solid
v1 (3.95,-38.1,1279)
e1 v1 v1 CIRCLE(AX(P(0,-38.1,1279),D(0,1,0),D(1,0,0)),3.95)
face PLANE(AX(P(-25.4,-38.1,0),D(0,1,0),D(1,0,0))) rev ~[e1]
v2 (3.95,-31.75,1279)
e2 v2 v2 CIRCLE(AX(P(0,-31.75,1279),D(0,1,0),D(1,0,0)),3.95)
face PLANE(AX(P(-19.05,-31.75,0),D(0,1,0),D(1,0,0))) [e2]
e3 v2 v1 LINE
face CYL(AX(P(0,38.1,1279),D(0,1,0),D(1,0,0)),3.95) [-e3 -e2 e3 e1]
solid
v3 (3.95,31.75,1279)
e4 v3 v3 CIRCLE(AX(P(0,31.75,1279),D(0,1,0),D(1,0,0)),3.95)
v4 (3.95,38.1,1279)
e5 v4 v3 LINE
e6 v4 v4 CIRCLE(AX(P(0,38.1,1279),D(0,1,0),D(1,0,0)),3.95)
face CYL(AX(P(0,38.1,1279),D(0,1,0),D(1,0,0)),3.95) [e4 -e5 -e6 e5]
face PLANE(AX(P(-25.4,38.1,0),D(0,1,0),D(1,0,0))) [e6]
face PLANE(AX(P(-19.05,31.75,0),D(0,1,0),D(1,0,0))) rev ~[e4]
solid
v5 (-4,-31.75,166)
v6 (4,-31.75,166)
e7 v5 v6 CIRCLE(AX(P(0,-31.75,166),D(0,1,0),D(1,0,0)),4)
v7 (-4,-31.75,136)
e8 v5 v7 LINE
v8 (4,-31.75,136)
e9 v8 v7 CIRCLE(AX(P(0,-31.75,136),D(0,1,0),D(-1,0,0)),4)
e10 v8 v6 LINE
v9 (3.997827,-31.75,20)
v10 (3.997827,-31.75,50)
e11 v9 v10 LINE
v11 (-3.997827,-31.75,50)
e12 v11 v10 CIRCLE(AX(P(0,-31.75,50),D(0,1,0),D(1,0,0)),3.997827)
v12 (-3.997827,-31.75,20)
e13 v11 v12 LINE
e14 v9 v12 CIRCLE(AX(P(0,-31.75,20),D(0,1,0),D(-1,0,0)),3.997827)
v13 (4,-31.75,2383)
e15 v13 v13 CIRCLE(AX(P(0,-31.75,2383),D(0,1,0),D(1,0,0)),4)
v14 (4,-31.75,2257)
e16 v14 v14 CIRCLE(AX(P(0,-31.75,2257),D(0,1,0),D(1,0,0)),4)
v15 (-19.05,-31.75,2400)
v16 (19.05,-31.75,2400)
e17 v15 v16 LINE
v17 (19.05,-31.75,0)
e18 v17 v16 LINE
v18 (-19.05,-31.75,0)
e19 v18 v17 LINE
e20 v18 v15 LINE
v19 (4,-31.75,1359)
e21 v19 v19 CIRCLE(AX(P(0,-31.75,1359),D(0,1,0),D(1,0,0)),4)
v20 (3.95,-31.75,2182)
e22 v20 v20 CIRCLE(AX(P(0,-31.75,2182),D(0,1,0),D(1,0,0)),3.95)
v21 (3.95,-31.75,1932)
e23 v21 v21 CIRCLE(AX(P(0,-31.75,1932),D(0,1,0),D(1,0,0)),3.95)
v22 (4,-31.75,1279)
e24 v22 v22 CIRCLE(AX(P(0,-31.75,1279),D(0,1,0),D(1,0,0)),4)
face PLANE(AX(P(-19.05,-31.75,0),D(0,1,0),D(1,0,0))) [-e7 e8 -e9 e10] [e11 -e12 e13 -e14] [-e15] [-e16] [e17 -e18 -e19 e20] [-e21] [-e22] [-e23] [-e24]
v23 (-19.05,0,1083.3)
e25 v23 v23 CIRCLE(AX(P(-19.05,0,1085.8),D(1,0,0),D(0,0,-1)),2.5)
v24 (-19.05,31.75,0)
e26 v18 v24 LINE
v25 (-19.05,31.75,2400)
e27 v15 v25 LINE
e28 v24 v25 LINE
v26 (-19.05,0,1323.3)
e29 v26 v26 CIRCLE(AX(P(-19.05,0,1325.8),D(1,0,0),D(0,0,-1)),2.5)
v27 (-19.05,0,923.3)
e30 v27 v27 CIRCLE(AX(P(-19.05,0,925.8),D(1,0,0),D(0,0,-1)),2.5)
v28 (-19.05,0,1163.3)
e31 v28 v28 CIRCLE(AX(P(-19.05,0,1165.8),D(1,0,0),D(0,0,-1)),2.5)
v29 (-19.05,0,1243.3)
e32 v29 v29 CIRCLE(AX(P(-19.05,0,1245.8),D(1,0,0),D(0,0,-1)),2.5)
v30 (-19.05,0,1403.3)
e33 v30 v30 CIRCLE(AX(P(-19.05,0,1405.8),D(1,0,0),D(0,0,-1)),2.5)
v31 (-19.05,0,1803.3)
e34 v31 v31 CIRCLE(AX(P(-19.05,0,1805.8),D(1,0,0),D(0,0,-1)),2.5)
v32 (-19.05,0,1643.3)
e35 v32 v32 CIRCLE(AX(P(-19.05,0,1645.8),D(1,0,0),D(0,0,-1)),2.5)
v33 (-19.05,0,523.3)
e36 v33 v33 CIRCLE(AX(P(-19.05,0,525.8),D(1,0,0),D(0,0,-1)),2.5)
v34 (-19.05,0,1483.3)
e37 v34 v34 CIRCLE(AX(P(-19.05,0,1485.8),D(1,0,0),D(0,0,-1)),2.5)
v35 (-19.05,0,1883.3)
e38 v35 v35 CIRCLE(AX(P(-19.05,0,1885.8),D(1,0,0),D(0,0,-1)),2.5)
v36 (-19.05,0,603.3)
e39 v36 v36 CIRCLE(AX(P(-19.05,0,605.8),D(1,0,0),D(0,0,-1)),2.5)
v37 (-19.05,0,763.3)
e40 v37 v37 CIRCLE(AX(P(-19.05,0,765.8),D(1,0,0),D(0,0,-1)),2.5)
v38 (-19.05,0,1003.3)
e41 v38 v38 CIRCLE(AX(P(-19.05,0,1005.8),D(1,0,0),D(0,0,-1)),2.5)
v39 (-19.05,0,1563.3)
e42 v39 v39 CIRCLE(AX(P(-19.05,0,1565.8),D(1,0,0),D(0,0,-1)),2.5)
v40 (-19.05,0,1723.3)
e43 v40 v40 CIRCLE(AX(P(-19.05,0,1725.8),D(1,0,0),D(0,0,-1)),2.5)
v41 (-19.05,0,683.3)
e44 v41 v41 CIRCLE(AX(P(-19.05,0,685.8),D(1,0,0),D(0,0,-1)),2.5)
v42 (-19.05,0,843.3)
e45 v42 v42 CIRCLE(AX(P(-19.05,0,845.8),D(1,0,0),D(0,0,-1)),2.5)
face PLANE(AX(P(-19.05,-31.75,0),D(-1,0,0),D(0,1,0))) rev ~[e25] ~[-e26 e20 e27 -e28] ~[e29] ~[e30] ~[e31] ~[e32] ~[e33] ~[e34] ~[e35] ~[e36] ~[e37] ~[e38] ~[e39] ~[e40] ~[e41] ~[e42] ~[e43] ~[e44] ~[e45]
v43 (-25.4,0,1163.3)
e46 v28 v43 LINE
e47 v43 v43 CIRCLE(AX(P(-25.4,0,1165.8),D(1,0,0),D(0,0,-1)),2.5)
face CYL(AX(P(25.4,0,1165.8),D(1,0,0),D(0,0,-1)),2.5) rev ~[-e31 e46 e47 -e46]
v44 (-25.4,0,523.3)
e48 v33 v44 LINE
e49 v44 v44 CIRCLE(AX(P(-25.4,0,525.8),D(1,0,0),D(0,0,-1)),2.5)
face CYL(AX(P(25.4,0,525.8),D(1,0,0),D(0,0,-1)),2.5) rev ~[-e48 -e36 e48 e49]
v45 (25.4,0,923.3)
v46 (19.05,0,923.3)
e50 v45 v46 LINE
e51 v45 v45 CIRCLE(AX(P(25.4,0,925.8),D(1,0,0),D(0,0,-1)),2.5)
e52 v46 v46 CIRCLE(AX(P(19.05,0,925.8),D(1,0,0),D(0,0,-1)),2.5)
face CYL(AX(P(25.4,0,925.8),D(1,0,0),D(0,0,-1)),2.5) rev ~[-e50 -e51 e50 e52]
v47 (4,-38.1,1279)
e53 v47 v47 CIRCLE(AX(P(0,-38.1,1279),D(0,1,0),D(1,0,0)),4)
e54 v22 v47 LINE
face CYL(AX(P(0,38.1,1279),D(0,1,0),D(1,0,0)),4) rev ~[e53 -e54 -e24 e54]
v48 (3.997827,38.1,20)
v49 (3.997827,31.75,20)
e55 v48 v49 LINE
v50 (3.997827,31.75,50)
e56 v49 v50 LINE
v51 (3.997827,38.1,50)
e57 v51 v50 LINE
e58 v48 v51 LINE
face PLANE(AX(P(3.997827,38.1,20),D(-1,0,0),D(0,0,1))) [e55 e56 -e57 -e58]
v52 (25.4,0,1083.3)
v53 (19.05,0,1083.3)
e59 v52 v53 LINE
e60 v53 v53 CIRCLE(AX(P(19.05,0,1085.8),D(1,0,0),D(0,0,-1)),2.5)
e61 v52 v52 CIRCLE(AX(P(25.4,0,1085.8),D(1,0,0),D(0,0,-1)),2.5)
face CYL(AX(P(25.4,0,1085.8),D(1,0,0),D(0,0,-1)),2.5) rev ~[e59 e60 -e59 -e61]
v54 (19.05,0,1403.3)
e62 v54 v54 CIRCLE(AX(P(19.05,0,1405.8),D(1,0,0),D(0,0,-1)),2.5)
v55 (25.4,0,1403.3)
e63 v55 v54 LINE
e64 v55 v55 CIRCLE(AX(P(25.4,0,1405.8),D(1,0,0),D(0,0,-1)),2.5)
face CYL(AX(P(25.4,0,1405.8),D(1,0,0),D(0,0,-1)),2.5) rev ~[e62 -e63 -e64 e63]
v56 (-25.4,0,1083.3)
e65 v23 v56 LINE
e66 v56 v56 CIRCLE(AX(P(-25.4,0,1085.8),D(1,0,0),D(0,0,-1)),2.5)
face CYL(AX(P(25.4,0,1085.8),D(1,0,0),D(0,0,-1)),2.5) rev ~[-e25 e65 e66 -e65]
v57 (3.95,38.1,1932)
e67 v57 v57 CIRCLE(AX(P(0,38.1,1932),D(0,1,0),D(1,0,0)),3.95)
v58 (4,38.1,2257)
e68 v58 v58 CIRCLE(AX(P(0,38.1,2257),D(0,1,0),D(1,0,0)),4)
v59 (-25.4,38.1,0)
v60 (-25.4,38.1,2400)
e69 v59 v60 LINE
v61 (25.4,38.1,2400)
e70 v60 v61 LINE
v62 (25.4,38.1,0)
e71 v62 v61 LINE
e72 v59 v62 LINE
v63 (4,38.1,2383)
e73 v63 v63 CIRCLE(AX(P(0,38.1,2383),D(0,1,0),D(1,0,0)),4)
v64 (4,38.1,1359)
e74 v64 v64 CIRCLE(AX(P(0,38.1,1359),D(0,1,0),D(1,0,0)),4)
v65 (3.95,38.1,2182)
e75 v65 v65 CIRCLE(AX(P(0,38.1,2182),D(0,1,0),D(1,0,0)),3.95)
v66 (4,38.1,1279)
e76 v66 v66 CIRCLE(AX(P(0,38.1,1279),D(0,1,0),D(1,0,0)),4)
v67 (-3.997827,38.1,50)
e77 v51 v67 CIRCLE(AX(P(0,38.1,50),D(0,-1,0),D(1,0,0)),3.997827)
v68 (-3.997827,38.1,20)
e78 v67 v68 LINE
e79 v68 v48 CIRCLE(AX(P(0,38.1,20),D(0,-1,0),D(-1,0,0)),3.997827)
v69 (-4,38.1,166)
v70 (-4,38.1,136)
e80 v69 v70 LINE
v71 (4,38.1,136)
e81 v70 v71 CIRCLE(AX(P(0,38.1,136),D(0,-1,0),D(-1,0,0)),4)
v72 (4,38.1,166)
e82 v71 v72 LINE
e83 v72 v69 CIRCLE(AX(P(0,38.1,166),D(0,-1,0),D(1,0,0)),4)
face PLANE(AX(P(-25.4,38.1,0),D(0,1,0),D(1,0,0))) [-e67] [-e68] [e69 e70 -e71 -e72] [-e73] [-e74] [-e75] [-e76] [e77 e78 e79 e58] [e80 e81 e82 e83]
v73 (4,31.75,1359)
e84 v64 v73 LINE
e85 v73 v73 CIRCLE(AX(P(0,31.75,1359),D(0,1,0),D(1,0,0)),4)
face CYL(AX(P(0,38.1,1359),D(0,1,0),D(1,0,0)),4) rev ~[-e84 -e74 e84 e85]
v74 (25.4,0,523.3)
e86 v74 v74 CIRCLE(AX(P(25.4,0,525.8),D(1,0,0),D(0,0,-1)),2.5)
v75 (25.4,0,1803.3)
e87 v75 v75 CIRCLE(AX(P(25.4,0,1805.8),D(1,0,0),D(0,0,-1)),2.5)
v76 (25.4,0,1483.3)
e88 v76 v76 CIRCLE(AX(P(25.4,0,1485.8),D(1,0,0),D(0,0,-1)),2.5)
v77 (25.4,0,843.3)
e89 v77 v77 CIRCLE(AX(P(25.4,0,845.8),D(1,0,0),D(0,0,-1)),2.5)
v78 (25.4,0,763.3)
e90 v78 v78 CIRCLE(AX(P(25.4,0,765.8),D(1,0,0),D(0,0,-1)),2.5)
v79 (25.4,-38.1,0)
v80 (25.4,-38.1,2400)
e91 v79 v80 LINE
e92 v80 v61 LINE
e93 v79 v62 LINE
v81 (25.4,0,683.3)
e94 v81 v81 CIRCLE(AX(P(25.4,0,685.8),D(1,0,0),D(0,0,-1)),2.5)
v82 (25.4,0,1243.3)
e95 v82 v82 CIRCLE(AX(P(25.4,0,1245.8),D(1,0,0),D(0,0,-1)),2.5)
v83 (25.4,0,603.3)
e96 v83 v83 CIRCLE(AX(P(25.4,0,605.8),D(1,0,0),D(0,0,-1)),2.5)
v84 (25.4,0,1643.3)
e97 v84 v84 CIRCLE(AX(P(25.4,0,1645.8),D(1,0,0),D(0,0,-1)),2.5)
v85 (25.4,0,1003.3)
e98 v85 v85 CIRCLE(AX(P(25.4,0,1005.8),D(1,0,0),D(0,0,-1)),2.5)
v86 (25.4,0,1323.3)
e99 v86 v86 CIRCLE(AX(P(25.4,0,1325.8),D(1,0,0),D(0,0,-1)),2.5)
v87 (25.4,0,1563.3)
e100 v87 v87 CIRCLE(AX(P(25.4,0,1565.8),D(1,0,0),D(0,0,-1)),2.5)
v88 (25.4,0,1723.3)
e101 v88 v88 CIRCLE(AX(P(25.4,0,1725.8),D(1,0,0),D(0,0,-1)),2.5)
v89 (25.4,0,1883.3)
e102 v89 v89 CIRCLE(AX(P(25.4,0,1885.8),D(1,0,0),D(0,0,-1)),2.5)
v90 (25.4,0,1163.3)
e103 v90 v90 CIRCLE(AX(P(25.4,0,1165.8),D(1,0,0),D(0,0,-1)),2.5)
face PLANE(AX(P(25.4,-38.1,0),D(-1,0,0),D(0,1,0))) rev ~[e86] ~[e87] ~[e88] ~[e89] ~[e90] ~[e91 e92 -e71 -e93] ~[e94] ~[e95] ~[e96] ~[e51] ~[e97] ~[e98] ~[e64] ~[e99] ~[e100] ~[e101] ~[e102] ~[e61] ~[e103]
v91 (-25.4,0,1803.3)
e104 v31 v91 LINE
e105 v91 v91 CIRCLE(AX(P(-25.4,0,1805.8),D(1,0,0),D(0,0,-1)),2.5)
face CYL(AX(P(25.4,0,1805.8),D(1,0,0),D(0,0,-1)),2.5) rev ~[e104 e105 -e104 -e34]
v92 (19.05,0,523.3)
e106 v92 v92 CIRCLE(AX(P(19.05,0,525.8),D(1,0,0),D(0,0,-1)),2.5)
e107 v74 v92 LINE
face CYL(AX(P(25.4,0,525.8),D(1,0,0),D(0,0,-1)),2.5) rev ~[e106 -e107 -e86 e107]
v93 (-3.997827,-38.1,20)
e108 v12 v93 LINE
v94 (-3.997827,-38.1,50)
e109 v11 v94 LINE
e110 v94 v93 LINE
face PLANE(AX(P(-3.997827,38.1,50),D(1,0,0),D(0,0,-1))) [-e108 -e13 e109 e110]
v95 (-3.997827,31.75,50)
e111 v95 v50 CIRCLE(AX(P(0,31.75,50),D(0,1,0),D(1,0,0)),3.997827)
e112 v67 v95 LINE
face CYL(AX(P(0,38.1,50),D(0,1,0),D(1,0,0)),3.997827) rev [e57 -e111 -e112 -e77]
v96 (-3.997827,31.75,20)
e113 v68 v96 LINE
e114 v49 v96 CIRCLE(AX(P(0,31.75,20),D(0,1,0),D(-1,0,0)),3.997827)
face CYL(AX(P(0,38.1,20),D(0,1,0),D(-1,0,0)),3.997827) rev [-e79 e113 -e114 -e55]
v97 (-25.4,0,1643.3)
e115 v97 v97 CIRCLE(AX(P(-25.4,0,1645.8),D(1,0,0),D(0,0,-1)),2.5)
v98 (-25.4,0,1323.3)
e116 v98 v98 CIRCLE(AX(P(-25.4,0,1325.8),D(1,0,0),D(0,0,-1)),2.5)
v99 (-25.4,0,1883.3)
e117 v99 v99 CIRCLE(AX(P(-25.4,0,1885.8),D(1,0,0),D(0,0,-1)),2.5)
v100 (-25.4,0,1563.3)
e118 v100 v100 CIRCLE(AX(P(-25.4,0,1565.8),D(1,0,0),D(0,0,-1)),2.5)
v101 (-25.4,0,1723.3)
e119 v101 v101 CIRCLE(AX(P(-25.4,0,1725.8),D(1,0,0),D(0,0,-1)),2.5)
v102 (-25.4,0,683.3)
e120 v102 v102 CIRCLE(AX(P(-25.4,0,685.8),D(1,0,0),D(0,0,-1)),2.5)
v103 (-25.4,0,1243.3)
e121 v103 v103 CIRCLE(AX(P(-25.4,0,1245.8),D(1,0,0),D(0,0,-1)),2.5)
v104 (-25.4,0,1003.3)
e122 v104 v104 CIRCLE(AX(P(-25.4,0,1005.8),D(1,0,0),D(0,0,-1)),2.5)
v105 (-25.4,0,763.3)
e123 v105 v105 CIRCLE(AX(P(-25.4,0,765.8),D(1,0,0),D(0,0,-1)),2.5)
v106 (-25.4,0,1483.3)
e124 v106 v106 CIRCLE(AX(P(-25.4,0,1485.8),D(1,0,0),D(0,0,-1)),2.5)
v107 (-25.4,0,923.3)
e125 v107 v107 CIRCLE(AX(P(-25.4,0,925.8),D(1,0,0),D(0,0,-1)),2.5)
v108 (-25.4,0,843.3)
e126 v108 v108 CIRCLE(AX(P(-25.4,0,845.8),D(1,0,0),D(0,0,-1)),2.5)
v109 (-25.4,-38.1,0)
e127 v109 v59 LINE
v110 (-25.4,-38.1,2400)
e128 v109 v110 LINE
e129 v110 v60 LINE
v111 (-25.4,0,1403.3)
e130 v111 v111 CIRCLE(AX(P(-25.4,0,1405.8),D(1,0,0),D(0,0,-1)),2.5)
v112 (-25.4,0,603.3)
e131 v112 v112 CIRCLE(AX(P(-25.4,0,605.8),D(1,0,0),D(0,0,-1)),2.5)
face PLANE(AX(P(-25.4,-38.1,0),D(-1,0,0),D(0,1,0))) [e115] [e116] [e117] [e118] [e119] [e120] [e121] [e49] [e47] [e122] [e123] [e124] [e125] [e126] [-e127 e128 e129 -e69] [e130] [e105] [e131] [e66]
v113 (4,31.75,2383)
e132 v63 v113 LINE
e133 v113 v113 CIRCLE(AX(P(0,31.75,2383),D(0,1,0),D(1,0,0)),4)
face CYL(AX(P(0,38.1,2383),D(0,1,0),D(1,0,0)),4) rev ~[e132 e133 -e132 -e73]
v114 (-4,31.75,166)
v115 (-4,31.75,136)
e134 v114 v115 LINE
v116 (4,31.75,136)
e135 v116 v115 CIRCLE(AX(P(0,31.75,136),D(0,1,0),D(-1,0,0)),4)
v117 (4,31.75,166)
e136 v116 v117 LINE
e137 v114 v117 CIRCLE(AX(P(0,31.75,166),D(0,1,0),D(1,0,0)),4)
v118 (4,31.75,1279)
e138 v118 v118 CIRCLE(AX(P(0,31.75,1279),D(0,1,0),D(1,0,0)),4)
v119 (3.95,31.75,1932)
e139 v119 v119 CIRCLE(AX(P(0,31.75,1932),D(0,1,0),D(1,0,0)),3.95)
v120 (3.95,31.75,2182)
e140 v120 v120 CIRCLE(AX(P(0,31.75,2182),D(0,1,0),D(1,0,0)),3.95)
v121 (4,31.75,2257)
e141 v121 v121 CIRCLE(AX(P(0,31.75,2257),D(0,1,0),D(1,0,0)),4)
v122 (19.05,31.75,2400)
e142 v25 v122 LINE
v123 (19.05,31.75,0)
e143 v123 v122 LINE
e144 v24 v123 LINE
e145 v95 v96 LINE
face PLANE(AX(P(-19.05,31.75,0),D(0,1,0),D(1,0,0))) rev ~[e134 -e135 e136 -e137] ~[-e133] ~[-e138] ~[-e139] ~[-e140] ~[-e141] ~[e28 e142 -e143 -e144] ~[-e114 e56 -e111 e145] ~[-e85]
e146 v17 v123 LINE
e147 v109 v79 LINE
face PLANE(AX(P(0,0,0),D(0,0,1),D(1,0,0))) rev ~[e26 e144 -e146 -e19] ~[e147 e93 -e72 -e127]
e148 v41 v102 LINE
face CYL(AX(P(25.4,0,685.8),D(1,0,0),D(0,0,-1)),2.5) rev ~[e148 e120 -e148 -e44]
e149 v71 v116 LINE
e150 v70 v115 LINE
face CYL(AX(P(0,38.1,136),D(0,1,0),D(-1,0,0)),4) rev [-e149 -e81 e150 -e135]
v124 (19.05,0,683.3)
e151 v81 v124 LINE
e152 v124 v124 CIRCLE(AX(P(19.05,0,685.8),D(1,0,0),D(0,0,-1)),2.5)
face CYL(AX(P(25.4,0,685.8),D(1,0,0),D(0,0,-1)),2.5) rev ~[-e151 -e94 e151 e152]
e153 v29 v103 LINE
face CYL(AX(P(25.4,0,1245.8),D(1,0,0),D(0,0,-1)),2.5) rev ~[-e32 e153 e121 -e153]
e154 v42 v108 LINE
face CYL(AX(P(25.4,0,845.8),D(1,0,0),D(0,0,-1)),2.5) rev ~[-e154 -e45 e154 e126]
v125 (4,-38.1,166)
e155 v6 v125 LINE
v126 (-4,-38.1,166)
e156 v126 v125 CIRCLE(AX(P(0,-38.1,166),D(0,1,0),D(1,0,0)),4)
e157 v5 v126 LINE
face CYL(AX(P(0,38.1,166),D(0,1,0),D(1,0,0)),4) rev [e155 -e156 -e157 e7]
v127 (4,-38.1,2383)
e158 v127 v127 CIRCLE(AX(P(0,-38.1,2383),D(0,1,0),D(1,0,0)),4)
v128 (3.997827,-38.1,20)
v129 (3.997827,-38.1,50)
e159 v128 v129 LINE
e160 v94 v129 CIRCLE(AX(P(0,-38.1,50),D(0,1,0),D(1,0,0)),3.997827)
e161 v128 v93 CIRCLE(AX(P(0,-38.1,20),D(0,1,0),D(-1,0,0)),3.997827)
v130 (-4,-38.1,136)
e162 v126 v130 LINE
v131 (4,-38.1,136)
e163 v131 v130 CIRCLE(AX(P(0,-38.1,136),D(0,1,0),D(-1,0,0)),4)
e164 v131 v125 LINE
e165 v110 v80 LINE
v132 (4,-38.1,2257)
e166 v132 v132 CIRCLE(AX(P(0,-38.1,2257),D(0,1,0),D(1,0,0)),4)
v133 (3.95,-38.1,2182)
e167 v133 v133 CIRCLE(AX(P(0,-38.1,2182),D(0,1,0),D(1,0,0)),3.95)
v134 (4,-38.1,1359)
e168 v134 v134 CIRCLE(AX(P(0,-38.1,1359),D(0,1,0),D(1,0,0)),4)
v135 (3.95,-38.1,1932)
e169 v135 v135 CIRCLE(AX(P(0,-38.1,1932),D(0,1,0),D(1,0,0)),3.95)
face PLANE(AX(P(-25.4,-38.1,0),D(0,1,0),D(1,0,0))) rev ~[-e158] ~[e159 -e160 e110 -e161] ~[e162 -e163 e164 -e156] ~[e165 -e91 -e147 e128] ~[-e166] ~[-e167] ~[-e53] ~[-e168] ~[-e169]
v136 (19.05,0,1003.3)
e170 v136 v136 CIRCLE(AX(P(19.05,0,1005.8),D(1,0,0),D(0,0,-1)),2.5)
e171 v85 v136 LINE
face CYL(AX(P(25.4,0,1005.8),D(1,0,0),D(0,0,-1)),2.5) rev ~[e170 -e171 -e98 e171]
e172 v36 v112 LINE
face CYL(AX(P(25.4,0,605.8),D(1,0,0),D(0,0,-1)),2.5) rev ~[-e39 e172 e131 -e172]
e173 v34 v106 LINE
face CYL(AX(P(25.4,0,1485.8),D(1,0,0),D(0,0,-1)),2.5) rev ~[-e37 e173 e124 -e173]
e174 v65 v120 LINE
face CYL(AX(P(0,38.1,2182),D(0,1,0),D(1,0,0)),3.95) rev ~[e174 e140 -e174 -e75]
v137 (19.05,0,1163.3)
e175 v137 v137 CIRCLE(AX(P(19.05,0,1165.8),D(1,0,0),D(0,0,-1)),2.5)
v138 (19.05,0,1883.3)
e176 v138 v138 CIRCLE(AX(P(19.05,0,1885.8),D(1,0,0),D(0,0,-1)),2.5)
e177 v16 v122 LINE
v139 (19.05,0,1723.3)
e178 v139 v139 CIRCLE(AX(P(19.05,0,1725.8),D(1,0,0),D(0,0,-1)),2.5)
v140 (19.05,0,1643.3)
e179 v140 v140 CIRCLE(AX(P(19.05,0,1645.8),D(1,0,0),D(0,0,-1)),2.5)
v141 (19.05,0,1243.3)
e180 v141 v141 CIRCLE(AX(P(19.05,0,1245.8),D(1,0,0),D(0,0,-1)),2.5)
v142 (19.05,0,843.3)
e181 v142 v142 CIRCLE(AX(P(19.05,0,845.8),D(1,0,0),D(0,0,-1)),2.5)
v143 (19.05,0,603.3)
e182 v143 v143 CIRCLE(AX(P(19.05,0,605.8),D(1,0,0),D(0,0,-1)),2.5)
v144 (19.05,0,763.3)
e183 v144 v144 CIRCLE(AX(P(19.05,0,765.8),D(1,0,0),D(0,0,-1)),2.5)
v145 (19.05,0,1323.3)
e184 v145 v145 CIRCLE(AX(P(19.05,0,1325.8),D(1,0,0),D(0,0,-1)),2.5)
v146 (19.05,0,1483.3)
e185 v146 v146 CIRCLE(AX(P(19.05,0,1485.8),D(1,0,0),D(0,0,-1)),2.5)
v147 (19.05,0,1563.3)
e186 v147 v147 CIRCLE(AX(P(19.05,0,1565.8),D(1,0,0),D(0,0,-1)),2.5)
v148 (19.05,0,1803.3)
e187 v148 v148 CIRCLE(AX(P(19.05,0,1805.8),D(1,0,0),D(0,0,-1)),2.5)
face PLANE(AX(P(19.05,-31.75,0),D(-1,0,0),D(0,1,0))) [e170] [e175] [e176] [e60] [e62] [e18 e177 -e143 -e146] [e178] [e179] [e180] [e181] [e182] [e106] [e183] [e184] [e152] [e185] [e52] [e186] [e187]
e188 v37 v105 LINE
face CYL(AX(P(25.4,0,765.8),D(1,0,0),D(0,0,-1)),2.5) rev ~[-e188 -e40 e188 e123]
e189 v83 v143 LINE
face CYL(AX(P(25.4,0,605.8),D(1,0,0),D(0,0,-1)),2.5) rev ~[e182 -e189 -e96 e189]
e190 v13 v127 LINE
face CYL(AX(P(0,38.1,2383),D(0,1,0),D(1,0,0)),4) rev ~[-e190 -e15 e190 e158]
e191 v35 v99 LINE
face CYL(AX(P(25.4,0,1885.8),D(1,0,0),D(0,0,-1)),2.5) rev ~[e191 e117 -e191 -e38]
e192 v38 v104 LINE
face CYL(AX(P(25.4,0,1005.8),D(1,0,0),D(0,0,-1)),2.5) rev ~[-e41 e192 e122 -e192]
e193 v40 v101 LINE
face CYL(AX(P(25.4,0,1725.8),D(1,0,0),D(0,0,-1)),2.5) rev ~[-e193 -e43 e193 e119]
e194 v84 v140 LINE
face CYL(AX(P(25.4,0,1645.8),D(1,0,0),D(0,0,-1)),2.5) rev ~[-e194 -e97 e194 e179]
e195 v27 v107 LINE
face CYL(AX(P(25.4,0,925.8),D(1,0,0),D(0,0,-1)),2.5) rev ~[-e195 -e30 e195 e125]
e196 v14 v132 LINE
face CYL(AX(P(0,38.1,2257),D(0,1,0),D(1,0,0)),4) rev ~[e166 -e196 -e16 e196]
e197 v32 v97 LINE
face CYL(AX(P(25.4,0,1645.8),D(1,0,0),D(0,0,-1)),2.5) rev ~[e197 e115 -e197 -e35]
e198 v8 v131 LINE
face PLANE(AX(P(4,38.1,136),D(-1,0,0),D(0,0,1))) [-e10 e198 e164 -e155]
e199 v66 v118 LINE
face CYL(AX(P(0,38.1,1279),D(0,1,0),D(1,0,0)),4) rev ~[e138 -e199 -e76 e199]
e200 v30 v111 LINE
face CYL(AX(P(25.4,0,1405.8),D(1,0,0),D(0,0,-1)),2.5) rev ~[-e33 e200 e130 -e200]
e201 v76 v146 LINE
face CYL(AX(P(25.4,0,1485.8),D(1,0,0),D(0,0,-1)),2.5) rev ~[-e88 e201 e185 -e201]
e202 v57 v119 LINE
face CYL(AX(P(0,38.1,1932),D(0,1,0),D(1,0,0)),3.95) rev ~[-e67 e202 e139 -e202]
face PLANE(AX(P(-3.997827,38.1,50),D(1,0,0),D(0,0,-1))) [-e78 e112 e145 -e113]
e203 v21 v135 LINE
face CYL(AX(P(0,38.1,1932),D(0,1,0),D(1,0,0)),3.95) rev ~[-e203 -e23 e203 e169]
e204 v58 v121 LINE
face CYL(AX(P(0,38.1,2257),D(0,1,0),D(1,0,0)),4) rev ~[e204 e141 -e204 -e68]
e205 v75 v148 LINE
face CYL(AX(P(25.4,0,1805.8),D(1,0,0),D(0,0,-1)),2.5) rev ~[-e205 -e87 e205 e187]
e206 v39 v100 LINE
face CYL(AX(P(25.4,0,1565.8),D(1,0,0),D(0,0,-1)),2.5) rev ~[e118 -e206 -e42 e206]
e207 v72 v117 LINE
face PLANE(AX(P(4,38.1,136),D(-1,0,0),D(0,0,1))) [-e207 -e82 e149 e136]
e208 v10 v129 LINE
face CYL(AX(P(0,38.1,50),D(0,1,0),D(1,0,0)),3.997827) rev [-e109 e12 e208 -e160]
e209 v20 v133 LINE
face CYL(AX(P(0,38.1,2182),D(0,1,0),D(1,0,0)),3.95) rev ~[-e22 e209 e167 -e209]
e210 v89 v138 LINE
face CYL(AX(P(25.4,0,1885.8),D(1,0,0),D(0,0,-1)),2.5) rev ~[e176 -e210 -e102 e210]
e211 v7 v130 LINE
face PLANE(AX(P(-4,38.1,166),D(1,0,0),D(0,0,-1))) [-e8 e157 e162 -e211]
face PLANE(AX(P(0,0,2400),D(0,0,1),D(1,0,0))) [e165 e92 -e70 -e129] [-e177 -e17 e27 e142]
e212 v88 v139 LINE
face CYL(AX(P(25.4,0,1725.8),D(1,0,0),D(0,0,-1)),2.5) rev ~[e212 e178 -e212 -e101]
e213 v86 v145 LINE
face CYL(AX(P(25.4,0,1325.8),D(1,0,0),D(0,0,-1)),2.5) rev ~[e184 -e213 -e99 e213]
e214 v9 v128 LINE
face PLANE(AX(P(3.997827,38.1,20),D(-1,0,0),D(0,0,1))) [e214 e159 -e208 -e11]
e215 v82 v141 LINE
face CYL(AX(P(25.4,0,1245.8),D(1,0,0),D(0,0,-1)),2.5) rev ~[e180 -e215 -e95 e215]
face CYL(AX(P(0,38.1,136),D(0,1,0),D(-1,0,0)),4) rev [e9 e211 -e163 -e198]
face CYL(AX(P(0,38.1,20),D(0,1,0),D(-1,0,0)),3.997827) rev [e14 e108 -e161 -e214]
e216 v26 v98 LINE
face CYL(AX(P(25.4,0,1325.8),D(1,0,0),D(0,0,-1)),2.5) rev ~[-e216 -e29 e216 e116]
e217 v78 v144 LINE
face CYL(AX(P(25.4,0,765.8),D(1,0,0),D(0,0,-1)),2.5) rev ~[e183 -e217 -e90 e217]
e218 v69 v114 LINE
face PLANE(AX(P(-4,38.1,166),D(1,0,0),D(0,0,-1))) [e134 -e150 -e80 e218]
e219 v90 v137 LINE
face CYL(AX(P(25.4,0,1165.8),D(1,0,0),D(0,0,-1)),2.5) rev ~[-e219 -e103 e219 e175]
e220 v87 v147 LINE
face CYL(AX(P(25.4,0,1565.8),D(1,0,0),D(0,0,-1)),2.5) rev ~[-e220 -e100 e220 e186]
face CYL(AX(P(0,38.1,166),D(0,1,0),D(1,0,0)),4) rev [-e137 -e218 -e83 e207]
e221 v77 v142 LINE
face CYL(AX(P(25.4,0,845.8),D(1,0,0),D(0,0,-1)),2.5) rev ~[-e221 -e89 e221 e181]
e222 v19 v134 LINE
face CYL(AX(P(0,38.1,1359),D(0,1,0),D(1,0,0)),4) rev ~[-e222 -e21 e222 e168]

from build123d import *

# Parameters (mm, degrees)
SKETCH1_W           = 50.8
SKETCH1_H           = 76.2
SKETCH1_W_2         = 38.1
SKETCH1_H_2         = 63.5
BOSS_EXTRUDE1_DEPTH = 2400
SKETCH2_R           = 4
CUT_EXTRUDE1_DEPTH  = 77.2
SKETCH3_R           = 2.5
CUT_EXTRUDE2_DEPTH  = 2438.4
SKETCH4_R           = 3.95
CUT_EXTRUDE3_DEPTH  = 77.2
SKETCH5_R           = 4
SKETCH5_R_2         = 3.95
CUT_EXTRUDE4_DEPTH  = 77.2


with BuildPart() as part:
    # Sketch1 → Boss-Extrude1 (new body)
    with BuildSketch(Plane.XY):
        Rectangle(SKETCH1_W, SKETCH1_H)
        Rectangle(SKETCH1_W_2, SKETCH1_H_2, mode=Mode.SUBTRACT)
    extrude(amount=BOSS_EXTRUDE1_DEPTH)

    # Sketch2 → Cut-Extrude1 (cut, through all)
    with BuildSketch(Plane(origin=(0, 38.1, 0), x_dir=(1, 0, 0), z_dir=(0, 1, 0))):
        with Locations((0, -2383)):
            Circle(SKETCH2_R)
        with Locations((0, -2257)):
            Circle(SKETCH2_R)
        with BuildLine():
            Line((4, -136), (4, -166))
            ThreePointArc((4, -166), (0, -170), (-4, -166))
            Line((-4, -166), (-4, -136))
            ThreePointArc((-4, -136), (0, -132), (4, -136))
        make_face()
        with BuildLine():
            Line((3.997827358, -20), (3.997827358, -50))
            ThreePointArc((3.997827358, -50), (0, -53.997827358), (-3.997827358, -50))
            Line((-3.997827358, -50), (-3.997827358, -20))
            ThreePointArc((-3.997827358, -20), (0, -16.002172642), (3.997827358, -20))
        make_face()
    extrude(amount=-CUT_EXTRUDE1_DEPTH, mode=Mode.SUBTRACT)

    # Sketch3 → Cut-Extrude2 (cut)
    with BuildSketch(Plane(origin=(25.4, 0, 0), x_dir=(0, 0, -1), z_dir=(1, 0, 0))):
        with Locations((-1885.8, 0)):
            Circle(SKETCH3_R)
        with Locations((-1805.8, 0)):
            Circle(SKETCH3_R)
        with Locations((-1725.8, 0)):
            Circle(SKETCH3_R)
        with Locations((-1645.8, 0)):
            Circle(SKETCH3_R)
        with Locations((-1565.8, 0)):
            Circle(SKETCH3_R)
        with Locations((-1485.8, 0)):
            Circle(SKETCH3_R)
        with Locations((-1405.8, 0)):
            Circle(SKETCH3_R)
        with Locations((-1325.8, 0)):
            Circle(SKETCH3_R)
        with Locations((-1245.8, 0)):
            Circle(SKETCH3_R)
        with Locations((-1165.8, 0)):
            Circle(SKETCH3_R)
        with Locations((-1085.8, 0)):
            Circle(SKETCH3_R)
        with Locations((-1005.8, 0)):
            Circle(SKETCH3_R)
        with Locations((-925.8, 0)):
            Circle(SKETCH3_R)
        with Locations((-845.8, 0)):
            Circle(SKETCH3_R)
        with Locations((-765.8, 0)):
            Circle(SKETCH3_R)
        with Locations((-685.8, 0)):
            Circle(SKETCH3_R)
        with Locations((-605.8, 0)):
            Circle(SKETCH3_R)
        with Locations((-525.8, 0)):
            Circle(SKETCH3_R)
    extrude(amount=-CUT_EXTRUDE2_DEPTH, mode=Mode.SUBTRACT)

    # Sketch4 → Cut-Extrude3 (cut, through all)
    with BuildSketch(Plane(origin=(0, 38.1, 0), x_dir=(1, 0, 0), z_dir=(0, 1, 0))):
        with Locations((0, -2182)):
            Circle(SKETCH4_R)
        with Locations((0, -1932)):
            Circle(SKETCH4_R)
    extrude(amount=-CUT_EXTRUDE3_DEPTH, mode=Mode.SUBTRACT)

    # Sketch5 → Cut-Extrude4 (cut, through all)
    with BuildSketch(Plane(origin=(0, 38.1, 0), x_dir=(1, 0, 0), z_dir=(0, 1, 0))):
        with Locations((0, -1359)):
            Circle(SKETCH5_R)
        with Locations((0, -1279)):
            Circle(SKETCH5_R)
        with Locations((0, -1278.999999999)):
            Circle(SKETCH5_R_2, mode=Mode.SUBTRACT)
        with BuildLine():
            Line((-109.6, -1300.1), (-99.6, -1300.1))
            ThreePointArc((-99.6, -1300.1), (-94.1, -1294.6), (-99.6, -1289.1))
            Line((-99.6, -1289.1), (-109.6, -1289.1))
            ThreePointArc((-109.6, -1289.1), (-115.1, -1294.6), (-109.6, -1300.1))
        make_face()
    extrude(amount=-CUT_EXTRUDE4_DEPTH, mode=Mode.SUBTRACT)


solid = part.part
